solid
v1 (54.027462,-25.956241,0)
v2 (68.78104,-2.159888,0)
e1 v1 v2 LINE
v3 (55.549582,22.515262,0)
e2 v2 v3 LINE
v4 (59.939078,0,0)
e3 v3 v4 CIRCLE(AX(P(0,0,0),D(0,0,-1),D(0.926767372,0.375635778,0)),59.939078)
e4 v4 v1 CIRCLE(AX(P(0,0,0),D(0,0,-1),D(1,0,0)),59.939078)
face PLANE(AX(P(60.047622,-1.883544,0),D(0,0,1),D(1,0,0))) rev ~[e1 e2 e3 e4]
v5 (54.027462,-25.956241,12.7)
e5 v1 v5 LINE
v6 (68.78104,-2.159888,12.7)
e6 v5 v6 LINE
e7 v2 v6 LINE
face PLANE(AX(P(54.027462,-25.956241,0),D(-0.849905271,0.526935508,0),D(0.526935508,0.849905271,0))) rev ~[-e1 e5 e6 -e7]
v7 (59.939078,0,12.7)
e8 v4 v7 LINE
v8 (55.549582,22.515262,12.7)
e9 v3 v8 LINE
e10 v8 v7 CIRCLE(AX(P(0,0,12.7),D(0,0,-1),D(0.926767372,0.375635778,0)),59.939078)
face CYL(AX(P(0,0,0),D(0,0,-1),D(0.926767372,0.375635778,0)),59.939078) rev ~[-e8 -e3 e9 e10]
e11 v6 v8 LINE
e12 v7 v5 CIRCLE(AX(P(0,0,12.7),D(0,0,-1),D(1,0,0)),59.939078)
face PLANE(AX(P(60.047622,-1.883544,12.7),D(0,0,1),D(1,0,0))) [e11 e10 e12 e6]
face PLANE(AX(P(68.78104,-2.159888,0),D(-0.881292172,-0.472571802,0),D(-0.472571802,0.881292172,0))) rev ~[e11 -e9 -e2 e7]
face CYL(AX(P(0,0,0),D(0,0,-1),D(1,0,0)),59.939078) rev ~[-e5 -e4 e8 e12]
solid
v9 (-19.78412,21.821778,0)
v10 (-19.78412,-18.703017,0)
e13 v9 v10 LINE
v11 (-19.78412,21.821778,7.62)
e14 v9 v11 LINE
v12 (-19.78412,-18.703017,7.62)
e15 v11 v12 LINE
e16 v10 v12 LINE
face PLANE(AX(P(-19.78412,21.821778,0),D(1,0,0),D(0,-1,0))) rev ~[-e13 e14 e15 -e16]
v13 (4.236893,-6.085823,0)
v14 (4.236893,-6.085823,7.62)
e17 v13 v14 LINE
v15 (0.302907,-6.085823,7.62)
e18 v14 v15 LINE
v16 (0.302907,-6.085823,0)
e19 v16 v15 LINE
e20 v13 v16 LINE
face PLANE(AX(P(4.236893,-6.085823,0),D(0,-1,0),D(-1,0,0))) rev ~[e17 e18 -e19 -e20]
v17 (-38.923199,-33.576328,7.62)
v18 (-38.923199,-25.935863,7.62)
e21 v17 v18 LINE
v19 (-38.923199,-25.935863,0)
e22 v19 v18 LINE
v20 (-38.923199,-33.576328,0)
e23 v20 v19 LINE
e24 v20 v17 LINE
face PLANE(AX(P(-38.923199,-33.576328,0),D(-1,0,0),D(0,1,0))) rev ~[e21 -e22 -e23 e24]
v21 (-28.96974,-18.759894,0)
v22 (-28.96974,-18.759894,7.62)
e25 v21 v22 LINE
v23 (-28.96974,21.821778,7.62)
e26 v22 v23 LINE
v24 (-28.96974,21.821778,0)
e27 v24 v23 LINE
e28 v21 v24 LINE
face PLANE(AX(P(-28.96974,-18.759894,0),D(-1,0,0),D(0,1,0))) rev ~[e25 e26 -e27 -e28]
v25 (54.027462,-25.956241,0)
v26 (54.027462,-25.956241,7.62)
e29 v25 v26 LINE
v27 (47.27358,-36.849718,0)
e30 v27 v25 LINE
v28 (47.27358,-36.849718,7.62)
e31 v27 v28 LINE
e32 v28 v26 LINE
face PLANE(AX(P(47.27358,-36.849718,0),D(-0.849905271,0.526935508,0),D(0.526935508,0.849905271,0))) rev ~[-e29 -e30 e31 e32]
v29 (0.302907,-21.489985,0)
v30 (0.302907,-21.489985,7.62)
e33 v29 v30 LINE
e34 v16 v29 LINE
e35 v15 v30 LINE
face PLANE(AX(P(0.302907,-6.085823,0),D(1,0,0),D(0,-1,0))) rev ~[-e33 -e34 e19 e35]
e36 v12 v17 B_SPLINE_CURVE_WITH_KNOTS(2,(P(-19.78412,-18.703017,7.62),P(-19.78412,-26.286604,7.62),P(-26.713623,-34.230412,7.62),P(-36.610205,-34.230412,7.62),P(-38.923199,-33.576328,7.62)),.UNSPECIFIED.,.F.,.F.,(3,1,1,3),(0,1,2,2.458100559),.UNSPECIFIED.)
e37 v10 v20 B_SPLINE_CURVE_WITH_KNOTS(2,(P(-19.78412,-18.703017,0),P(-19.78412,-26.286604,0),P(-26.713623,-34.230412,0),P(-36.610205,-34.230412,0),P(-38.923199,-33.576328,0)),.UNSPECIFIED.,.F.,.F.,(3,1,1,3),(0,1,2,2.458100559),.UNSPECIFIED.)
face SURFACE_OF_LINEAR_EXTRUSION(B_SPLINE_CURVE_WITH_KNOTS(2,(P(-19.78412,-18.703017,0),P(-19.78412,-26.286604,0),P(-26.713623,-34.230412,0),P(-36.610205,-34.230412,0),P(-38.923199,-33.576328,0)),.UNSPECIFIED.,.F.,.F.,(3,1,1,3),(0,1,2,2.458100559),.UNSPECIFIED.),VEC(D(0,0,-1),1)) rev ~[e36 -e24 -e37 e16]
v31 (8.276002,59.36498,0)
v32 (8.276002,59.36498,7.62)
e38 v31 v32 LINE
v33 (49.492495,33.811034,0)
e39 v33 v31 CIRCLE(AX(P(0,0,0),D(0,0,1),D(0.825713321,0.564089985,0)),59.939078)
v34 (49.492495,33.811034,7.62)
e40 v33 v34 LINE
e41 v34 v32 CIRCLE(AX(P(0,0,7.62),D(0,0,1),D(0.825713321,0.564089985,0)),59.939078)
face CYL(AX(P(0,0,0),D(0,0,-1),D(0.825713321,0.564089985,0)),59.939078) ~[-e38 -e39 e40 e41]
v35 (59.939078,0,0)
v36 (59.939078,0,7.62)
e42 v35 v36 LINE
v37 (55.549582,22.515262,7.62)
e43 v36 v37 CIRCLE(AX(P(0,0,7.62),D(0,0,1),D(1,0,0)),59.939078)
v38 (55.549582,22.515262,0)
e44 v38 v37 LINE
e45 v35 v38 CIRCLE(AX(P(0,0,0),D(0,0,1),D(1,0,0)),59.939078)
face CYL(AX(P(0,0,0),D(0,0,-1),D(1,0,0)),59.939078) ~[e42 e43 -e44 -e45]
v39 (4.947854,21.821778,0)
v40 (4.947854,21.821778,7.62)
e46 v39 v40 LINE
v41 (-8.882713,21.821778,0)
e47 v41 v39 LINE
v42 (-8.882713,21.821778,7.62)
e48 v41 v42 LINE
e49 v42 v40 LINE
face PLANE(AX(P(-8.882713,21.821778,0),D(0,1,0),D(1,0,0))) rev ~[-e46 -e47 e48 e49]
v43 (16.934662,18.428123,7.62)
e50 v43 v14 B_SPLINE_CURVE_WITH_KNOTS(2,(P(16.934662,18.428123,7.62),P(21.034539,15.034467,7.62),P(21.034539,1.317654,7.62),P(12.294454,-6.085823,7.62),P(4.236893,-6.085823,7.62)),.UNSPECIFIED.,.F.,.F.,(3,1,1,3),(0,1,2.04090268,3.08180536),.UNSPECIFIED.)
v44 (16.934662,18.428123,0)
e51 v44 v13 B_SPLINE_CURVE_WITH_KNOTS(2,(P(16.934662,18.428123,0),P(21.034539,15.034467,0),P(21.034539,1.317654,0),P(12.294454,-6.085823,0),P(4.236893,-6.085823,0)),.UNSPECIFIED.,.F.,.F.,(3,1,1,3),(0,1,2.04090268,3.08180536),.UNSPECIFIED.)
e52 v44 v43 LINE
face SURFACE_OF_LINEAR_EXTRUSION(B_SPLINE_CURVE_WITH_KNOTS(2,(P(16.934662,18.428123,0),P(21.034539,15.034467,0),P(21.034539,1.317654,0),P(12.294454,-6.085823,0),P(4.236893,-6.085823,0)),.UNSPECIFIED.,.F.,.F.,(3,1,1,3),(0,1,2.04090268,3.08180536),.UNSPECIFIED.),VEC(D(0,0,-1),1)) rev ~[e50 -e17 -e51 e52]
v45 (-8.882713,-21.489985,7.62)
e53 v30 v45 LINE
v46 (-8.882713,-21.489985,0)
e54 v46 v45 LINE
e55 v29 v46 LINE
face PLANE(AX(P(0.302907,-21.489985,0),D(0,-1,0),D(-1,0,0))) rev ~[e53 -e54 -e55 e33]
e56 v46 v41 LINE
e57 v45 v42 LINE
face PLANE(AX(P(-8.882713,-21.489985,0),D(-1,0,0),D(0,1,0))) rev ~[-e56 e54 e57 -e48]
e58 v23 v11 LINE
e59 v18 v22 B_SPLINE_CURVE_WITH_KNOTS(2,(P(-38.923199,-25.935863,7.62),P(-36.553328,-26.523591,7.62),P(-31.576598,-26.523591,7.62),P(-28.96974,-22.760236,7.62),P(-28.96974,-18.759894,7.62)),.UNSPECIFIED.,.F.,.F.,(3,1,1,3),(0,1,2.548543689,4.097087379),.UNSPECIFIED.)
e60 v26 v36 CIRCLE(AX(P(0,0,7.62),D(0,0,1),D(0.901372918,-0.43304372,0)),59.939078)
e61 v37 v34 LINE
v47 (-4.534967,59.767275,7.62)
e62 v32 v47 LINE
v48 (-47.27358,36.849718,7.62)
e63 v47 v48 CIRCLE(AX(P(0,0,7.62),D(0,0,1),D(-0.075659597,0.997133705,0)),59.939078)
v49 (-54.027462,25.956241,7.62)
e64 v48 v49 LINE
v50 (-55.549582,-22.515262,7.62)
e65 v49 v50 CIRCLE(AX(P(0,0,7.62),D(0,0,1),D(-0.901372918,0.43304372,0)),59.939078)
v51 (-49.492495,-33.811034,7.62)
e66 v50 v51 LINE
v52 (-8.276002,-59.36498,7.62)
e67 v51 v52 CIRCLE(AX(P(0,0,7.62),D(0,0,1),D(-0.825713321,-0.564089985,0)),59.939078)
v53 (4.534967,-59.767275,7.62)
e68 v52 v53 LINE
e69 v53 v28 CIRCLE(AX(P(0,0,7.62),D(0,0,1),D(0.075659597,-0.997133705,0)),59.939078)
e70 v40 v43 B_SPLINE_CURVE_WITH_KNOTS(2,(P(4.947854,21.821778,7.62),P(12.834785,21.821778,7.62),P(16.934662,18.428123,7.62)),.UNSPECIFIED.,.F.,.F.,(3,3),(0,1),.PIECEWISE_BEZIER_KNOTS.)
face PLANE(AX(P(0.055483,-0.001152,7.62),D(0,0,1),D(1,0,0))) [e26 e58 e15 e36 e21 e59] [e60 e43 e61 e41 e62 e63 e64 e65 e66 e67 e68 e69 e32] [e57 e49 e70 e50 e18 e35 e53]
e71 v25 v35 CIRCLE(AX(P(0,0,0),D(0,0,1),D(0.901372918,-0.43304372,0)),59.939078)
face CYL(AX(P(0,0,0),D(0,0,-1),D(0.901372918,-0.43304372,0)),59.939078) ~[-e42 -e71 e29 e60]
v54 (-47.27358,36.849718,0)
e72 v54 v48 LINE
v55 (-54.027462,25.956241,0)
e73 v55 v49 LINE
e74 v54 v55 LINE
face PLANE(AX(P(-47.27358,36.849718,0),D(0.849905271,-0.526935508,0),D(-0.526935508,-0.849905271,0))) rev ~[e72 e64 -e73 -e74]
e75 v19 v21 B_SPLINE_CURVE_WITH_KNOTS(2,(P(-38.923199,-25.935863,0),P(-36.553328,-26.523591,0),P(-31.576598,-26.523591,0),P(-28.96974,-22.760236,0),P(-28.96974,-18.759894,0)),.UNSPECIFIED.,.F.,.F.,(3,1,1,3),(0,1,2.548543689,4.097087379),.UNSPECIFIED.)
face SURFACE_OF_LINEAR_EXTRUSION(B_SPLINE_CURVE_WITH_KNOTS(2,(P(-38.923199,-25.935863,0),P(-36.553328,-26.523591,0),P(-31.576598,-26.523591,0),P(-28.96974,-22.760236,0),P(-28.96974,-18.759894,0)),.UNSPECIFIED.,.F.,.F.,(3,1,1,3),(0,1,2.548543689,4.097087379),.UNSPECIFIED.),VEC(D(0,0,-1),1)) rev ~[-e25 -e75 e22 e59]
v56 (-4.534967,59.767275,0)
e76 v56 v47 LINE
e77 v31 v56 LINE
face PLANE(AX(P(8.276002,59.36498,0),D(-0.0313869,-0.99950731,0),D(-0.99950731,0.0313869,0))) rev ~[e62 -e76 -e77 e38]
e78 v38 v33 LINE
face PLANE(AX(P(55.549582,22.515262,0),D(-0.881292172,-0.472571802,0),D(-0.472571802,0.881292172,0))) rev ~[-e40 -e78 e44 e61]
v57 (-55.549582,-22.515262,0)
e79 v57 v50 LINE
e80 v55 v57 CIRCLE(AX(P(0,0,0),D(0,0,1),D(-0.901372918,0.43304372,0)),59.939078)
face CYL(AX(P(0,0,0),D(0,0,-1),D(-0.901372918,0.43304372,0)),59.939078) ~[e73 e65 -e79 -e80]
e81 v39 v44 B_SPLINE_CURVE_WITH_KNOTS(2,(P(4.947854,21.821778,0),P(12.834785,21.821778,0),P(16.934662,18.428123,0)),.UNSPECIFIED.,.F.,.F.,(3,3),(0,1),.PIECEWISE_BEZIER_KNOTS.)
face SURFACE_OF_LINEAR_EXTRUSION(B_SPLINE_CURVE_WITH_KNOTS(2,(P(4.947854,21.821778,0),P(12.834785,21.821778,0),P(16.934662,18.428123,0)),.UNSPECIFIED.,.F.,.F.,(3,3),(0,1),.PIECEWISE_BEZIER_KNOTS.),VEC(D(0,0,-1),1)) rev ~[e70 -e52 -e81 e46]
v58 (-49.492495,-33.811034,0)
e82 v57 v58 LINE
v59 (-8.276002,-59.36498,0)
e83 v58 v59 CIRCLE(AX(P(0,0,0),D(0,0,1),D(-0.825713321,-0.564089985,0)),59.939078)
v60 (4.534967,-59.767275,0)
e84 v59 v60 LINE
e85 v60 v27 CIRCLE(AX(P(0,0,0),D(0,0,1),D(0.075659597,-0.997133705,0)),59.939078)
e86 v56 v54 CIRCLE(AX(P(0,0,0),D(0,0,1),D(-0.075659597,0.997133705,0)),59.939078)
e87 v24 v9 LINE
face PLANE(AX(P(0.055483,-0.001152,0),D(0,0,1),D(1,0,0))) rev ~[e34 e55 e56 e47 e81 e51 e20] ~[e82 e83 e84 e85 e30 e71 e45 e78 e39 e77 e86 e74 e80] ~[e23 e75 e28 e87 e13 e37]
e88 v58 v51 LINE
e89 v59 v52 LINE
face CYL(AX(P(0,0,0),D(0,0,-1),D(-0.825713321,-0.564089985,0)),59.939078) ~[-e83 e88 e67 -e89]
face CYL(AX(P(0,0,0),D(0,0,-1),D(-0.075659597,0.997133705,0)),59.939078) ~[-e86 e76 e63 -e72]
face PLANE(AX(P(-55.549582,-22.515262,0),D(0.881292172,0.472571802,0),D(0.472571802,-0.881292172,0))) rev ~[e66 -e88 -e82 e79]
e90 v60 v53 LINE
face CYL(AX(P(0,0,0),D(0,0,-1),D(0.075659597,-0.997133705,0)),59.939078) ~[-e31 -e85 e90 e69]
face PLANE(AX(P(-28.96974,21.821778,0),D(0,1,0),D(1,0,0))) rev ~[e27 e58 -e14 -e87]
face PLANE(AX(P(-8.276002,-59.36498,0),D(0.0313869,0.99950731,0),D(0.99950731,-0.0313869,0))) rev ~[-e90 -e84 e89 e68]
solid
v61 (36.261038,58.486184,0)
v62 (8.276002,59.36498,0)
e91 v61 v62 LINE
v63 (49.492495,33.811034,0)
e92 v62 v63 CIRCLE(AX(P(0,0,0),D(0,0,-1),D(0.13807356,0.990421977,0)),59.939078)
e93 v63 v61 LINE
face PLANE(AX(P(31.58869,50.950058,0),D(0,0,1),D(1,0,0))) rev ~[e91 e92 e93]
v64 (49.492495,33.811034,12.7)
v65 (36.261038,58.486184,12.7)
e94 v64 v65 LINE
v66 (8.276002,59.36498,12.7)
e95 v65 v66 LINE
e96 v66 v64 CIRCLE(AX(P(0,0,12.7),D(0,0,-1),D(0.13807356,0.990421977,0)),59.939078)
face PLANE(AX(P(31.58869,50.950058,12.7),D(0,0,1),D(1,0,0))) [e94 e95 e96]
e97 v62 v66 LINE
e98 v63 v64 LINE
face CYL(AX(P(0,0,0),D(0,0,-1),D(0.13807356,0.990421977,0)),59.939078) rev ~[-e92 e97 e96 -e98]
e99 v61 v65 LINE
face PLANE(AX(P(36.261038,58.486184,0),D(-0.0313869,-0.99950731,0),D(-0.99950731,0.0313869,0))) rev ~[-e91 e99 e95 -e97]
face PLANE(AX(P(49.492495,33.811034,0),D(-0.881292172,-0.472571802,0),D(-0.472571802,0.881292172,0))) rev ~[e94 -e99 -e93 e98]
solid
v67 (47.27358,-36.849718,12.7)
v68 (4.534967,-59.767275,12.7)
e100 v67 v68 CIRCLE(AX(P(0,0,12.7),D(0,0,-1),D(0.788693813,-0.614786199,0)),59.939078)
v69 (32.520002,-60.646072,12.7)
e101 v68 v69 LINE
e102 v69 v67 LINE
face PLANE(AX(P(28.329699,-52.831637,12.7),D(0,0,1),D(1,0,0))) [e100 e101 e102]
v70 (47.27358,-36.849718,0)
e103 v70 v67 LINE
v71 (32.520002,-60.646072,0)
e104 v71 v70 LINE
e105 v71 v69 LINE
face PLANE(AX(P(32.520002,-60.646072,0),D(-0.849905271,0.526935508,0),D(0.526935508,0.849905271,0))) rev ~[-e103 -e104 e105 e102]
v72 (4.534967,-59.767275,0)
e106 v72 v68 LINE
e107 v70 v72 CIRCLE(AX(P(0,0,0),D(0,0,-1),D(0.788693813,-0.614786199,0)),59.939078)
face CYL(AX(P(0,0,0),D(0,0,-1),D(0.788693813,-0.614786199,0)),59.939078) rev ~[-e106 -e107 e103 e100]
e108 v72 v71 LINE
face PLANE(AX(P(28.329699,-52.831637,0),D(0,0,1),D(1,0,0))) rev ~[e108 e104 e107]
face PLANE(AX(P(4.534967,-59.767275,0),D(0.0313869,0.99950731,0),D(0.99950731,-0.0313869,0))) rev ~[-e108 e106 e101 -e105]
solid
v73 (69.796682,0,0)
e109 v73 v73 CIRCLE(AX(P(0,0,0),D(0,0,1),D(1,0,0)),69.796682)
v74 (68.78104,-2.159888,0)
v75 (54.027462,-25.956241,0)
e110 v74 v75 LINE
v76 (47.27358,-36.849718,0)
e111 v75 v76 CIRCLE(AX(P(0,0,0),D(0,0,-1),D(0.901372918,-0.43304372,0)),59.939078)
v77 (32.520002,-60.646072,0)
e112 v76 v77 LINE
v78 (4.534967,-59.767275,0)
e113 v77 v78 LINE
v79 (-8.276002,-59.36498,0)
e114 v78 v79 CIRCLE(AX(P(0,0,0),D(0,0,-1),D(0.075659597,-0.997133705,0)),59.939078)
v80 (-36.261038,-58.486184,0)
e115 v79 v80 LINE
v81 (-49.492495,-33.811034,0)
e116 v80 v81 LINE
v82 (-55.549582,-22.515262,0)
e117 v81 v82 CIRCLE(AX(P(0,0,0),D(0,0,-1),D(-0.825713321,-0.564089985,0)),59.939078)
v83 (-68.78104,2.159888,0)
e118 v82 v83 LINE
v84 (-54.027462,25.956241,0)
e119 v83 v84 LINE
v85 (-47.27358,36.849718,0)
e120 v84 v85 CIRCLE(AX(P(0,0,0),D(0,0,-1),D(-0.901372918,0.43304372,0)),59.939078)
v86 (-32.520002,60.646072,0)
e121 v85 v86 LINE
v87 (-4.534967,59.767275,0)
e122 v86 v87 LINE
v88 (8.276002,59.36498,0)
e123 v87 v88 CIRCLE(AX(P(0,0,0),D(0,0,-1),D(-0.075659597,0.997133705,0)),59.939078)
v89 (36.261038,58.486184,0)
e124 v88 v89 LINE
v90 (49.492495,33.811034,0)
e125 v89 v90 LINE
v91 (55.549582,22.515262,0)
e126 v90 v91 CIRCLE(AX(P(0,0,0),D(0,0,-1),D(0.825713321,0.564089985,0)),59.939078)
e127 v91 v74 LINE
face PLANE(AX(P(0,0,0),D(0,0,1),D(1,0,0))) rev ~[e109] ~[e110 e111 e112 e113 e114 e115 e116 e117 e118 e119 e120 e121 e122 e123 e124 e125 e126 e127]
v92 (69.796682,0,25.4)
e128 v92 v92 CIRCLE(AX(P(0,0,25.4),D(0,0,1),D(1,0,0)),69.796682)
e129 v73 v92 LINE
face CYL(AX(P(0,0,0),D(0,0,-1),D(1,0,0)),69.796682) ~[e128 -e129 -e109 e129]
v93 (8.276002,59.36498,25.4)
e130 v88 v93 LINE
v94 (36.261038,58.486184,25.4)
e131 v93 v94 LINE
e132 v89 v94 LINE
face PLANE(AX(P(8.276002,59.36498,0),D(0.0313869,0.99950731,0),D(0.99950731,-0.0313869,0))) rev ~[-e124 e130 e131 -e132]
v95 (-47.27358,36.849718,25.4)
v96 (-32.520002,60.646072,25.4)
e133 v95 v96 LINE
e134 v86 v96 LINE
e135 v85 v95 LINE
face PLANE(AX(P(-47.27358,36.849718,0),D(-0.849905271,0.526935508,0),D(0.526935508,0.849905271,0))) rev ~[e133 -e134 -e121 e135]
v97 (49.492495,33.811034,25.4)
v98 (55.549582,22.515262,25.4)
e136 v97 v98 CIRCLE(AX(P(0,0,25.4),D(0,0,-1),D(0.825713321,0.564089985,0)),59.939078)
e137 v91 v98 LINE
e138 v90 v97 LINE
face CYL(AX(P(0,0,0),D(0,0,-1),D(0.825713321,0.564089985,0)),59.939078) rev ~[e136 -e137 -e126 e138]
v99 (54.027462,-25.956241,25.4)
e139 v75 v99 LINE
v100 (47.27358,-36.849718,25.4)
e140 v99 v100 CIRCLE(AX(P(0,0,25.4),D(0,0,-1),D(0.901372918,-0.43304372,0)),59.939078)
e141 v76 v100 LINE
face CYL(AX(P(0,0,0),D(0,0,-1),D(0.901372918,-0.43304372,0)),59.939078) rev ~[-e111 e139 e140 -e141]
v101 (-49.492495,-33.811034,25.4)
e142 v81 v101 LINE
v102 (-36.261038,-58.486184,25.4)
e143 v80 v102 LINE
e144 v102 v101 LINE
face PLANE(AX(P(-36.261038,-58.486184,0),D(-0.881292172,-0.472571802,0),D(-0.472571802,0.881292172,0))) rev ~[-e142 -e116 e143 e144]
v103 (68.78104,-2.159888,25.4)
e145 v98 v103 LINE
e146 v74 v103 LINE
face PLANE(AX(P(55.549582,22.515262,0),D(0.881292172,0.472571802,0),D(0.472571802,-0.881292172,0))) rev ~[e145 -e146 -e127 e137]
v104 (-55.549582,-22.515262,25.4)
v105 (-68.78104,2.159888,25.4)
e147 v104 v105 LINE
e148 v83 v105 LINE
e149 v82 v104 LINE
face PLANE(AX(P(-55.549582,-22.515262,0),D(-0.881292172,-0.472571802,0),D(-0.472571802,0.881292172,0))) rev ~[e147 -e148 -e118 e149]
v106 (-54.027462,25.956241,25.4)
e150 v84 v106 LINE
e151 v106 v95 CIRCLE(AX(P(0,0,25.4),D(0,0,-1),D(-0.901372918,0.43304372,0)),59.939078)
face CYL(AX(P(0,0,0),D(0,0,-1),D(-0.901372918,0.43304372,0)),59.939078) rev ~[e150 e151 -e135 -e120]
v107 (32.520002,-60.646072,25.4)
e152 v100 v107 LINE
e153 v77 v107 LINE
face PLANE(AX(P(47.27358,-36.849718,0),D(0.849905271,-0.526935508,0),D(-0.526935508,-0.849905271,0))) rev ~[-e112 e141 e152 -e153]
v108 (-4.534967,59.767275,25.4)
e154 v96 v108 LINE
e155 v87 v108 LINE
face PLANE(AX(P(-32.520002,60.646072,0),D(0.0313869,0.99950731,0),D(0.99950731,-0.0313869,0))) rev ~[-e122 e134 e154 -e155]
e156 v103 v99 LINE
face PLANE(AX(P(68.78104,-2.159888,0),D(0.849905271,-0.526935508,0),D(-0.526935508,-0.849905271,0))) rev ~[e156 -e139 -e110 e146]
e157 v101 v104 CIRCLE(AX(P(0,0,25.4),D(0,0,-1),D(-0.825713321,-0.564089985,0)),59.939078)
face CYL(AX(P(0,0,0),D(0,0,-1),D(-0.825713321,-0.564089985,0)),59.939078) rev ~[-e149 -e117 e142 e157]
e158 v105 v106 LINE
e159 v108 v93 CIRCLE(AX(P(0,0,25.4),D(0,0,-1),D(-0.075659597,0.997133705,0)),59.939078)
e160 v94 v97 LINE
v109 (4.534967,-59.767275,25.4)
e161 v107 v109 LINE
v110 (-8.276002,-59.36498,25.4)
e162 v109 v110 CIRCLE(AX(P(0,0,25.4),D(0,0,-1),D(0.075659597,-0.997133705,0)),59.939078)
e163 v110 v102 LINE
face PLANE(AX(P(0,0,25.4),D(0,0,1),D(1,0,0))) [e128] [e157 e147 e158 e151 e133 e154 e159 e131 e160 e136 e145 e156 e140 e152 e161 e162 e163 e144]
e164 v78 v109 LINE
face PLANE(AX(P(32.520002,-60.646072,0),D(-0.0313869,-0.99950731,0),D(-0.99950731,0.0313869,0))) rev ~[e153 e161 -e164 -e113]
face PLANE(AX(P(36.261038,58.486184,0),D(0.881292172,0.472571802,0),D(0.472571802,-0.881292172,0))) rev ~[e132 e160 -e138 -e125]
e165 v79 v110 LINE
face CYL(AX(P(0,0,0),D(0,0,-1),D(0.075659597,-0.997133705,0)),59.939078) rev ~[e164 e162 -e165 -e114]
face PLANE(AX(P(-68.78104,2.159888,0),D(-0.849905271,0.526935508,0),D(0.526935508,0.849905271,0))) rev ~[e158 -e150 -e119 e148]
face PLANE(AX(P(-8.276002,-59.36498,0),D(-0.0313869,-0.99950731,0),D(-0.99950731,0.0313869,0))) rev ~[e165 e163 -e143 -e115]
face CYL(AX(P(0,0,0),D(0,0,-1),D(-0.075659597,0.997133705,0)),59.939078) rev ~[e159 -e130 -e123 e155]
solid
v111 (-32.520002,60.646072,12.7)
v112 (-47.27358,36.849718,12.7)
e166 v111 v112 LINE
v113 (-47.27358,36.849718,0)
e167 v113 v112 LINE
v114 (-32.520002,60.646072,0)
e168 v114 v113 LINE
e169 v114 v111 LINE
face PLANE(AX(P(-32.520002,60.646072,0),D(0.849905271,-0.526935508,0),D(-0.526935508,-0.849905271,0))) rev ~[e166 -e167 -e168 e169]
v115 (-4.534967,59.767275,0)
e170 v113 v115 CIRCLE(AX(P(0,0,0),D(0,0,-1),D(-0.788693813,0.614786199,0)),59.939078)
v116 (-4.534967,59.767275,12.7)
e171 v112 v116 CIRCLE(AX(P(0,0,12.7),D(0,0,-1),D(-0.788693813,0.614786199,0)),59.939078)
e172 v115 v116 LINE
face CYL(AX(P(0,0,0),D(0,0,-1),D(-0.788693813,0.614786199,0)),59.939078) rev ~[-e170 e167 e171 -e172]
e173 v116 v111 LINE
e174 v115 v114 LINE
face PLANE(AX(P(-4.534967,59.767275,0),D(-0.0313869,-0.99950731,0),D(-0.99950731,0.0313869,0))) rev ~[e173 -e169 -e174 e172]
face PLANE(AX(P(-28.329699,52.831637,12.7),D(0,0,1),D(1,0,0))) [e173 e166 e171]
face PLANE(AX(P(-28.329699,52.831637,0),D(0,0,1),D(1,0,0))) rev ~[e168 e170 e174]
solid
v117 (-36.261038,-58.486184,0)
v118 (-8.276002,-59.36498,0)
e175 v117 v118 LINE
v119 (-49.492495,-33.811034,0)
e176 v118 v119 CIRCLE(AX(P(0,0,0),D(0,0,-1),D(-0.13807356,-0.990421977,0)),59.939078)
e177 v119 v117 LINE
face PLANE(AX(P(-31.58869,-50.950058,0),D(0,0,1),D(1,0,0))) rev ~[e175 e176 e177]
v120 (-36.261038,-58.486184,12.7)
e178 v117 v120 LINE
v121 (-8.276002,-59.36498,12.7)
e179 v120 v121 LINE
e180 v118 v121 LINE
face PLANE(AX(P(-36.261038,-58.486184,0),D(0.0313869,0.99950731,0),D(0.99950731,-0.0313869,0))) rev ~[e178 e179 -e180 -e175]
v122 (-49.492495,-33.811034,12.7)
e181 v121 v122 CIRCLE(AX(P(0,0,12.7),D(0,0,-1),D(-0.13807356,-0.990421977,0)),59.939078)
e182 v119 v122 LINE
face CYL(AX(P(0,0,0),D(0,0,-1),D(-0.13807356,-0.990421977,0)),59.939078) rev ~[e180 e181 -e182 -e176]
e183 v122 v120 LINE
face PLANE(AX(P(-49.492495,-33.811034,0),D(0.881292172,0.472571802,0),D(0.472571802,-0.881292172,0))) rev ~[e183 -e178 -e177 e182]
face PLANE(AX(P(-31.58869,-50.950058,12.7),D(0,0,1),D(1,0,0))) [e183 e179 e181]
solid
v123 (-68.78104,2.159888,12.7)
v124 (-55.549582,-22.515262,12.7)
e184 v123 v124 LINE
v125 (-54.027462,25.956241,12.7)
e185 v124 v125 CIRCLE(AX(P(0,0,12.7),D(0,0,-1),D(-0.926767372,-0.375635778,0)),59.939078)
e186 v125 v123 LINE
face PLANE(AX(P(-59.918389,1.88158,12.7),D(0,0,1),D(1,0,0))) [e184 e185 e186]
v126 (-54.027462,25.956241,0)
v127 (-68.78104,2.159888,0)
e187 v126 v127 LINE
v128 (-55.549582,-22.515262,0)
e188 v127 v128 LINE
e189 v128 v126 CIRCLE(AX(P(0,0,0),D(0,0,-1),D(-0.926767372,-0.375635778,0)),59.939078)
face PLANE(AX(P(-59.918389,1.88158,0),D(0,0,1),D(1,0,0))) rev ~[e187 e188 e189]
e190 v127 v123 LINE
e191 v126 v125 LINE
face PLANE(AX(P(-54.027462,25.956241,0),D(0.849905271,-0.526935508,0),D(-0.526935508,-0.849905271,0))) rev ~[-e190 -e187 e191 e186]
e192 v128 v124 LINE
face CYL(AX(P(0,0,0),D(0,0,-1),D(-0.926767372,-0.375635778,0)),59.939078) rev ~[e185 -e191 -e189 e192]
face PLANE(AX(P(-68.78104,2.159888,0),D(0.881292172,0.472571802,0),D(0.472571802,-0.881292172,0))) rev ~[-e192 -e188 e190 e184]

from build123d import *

# Parameters (mm, degrees)
F0_R     = 69.796681711
F1_DEPTH = 25.4
F2_DEPTH = 12.7
F3_DEPTH = 7.62


with BuildPart() as f1:
    # F0 (on Top) → F1 (new body)
    with BuildSketch(Plane.XY):
        Circle(F0_R)
        with BuildLine():
            Line((8.2760019114, 59.3649804818), (36.2610376693, 58.4861839798))
            Line((36.2610376693, 58.4861839798), (49.4924954528, 33.8110338366))
            ThreePointArc((49.4924954528, 33.8110338366), (52.8238405465, 28.3255182682), (55.5495821482, 22.5152623438))
            Line((55.5495821482, 22.5152623438), (68.7810399316, -2.1598877993))
            Line((68.7810399316, -2.1598877993), (54.0274619571, -25.9562414405))
            ThreePointArc((54.0274619571, -25.9562414405), (50.9425386689, -31.5840287047), (47.2735802367, -36.849718138))
            Line((47.2735802367, -36.849718138), (32.5200022623, -60.6460717791))
            Line((32.5200022623, -60.6460717791), (4.5349665043, -59.7672752771))
            ThreePointArc((4.5349665043, -59.7672752771), (-1.8813018777, -59.9095469729), (-8.2760019114, -59.3649804818))
            Line((-8.2760019114, -59.3649804818), (-36.2610376693, -58.4861839798))
            Line((-36.2610376693, -58.4861839798), (-49.4924954528, -33.8110338366))
            ThreePointArc((-49.4924954528, -33.8110338366), (-52.8238405465, -28.3255182682), (-55.5495821482, -22.5152623438))
            Line((-55.5495821482, -22.5152623438), (-68.7810399316, 2.1598877993))
            Line((-68.7810399316, 2.1598877993), (-54.0274619571, 25.9562414405))
            ThreePointArc((-54.0274619571, 25.9562414405), (-50.9425386689, 31.5840287047), (-47.2735802367, 36.849718138))
            Line((-47.2735802367, 36.849718138), (-32.5200022623, 60.6460717791))
            Line((-32.5200022623, 60.6460717791), (-4.5349665043, 59.7672752771))
            ThreePointArc((-4.5349665043, 59.7672752771), (1.8813018777, 59.9095469729), (8.2760019114, 59.3649804818))
        make_face(mode=Mode.SUBTRACT)
    extrude(amount=F1_DEPTH)


with BuildPart() as f2:
    # F0 (on Top) → F2 (new body)
    with BuildSketch(Plane.XY):
        with BuildLine():
            ThreePointArc((-55.5495821482, -22.5152623438), (-59.9095469729, 1.8813018777), (-54.0274619571, 25.9562414405))
            Line((-54.0274619571, 25.9562414405), (-68.7810399316, 2.1598877993))
            Line((-68.7810399316, 2.1598877993), (-55.5495821482, -22.5152623438))
        make_face()
    extrude(amount=F2_DEPTH)


with BuildPart() as f2b:
    # F0 (on Top) → F2, piece 2 (new body)
    with BuildSketch(Plane.XY):
        with BuildLine():
            ThreePointArc((-8.2760019114, -59.3649804818), (-31.5840287047, -50.9425386689), (-49.4924954528, -33.8110338366))
            Line((-49.4924954528, -33.8110338366), (-36.2610376693, -58.4861839798))
            Line((-36.2610376693, -58.4861839798), (-8.2760019114, -59.3649804818))
        make_face()
    extrude(amount=F2_DEPTH)


with BuildPart() as f2c:
    # F0 (on Top) → F2, piece 3 (new body)
    with BuildSketch(Plane.XY):
        with BuildLine():
            ThreePointArc((-47.2735802367, 36.849718138), (-28.3255182682, 52.8238405465), (-4.5349665043, 59.7672752771))
            Line((-4.5349665043, 59.7672752771), (-32.5200022623, 60.6460717791))
            Line((-32.5200022623, 60.6460717791), (-47.2735802367, 36.849718138))
        make_face()
    extrude(amount=F2_DEPTH)


with BuildPart() as f2d:
    # F0 (on Top) → F2, piece 4 (new body)
    with BuildSketch(Plane.XY):
        with BuildLine():
            Line((49.4924954528, 33.8110338366), (36.2610376693, 58.4861839798))
            Line((36.2610376693, 58.4861839798), (8.2760019114, 59.3649804818))
            ThreePointArc((8.2760019114, 59.3649804818), (31.5840287047, 50.9425386689), (49.4924954528, 33.8110338366))
        make_face()
    extrude(amount=F2_DEPTH)


with BuildPart() as f2e:
    # F0 (on Top) → F2, piece 5 (new body)
    with BuildSketch(Plane.XY):
        with BuildLine():
            Line((68.7810399316, -2.1598877993), (55.5495821482, 22.5152623438))
            ThreePointArc((55.5495821482, 22.5152623438), (58.8314706291, 11.4695762285), (59.939078365, 0))
            ThreePointArc((59.939078365, 0), (58.4424904986, -13.3104627856), (54.0274619571, -25.9562414405))
            Line((54.0274619571, -25.9562414405), (68.7810399316, -2.1598877993))
        make_face()
    extrude(amount=F2_DEPTH)


with BuildPart() as f2f:
    # F0 (on Top) → F2, piece 6 (new body)
    with BuildSketch(Plane.XY):
        with BuildLine():
            Line((32.5200022623, -60.6460717791), (47.2735802367, -36.849718138))
            ThreePointArc((47.2735802367, -36.849718138), (28.3255182682, -52.8238405465), (4.5349665043, -59.7672752771))
            Line((4.5349665043, -59.7672752771), (32.5200022623, -60.6460717791))
        make_face()
    extrude(amount=F2_DEPTH)


with BuildPart() as f3:
    # F0 (on Top) → F3 (new body)
    with BuildSketch(Plane.XY):
        with BuildLine():
            Line((55.5495821482, 22.5152623438), (49.4924954528, 33.8110338366))
            ThreePointArc((49.4924954528, 33.8110338366), (31.5840287047, 50.9425386689), (8.2760019114, 59.3649804818))
            Line((8.2760019114, 59.3649804818), (-4.5349665043, 59.7672752771))
            ThreePointArc((-4.5349665043, 59.7672752771), (-28.3255182682, 52.8238405465), (-47.2735802367, 36.849718138))
            Line((-47.2735802367, 36.849718138), (-54.0274619571, 25.9562414405))
            ThreePointArc((-54.0274619571, 25.9562414405), (-59.9095469729, 1.8813018777), (-55.5495821482, -22.5152623438))
            Line((-55.5495821482, -22.5152623438), (-49.4924954528, -33.8110338366))
            ThreePointArc((-49.4924954528, -33.8110338366), (-31.5840287047, -50.9425386689), (-8.2760019114, -59.3649804818))
            Line((-8.2760019114, -59.3649804818), (4.5349665043, -59.7672752771))
            ThreePointArc((4.5349665043, -59.7672752771), (28.3255182682, -52.8238405465), (47.2735802367, -36.849718138))
            Line((47.2735802367, -36.849718138), (54.0274619571, -25.9562414405))
            ThreePointArc((54.0274619571, -25.9562414405), (58.4424904986, -13.3104627856), (59.939078365, 0))
            ThreePointArc((59.939078365, 0), (58.8314706291, 11.4695762285), (55.5495821482, 22.5152623438))
        make_face()
        with BuildLine():
            add(Edge.make_bspline(
                [(-23.2488715606, -30.2585081788), (-26.7136230383, -34.2304120616), (-33.5009337307, -34.2304120616)],
                knots=[0, 0, 0, 1, 1, 1], degree=2))
            add(Edge.make_bspline(
                [(-33.5009337307, -34.2304120616), (-36.6102045506, -34.2304120616), (-38.9231986972, -33.5763276513)],
                knots=[0, 0, 0, 1, 1, 1], degree=2))
            Line((-38.9231986972, -33.5763276513), (-38.9231986972, -25.9358633804))
            add(Edge.make_bspline(
                [(-38.9231986972, -25.9358633804), (-36.5533276454, -26.5235914012), (-34.6005538987, -26.5235914012)],
                knots=[0, 0, 0, 1, 1, 1], degree=2))
            add(Edge.make_bspline(
                [(-34.6005538987, -26.5235914012), (-31.5765984366, -26.5235914012), (-30.2731693581, -24.6419137861)],
                knots=[0, 0, 0, 1, 1, 1], degree=2))
            add(Edge.make_bspline(
                [(-30.2731693581, -24.6419137861), (-28.9697402796, -22.760236171), (-28.9697402796, -18.7598938355)],
                knots=[0, 0, 0, 1, 1, 1], degree=2))
            Line((-28.9697402796, -18.7598938355), (-28.9697402796, 21.8217780554))
            Line((-28.9697402796, 21.8217780554), (-19.7841200829, 21.8217780554))
            Line((-19.7841200829, 21.8217780554), (-19.7841200829, -18.7030169303))
            add(Edge.make_bspline(
                [(-19.7841200829, -18.7030169303), (-19.7841200829, -26.286604296), (-23.2488715606, -30.2585081788)],
                knots=[0, 0, 0, 1, 1, 1], degree=2))
        make_face(mode=Mode.SUBTRACT)
        with BuildLine():
            add(Edge.make_bspline(
                [(16.9346619936, 18.4281227092), (21.0345389132, 15.0344673631), (21.0345389132, 8.3135130602)],
                knots=[0, 0, 0, 1, 1, 1], degree=2))
            add(Edge.make_bspline(
                [(21.0345389132, 8.3135130602), (21.0345389132, 1.3176537153), (16.6644966937, -2.3840848676)],
                knots=[0, 0, 0, 1, 1, 1], degree=2))
            add(Edge.make_bspline(
                [(16.6644966937, -2.3840848676), (12.2944544742, -6.0858234505), (4.2368928981, -6.0858234505)],
                knots=[0, 0, 0, 1, 1, 1], degree=2))
            Line((4.2368928981, -6.0858234505), (0.3029069521, -6.0858234505))
            Line((0.3029069521, -6.0858234505), (0.3029069521, -21.4899852872))
            Line((0.3029069521, -21.4899852872), (-8.8827132446, -21.4899852872))
            Line((-8.8827132446, -21.4899852872), (-8.8827132446, 21.8217780554))
            Line((-8.8827132446, 21.8217780554), (4.9478542136, 21.8217780554))
            add(Edge.make_bspline(
                [(4.9478542136, 21.8217780554), (12.834785074, 21.8217780554), (16.9346619936, 18.4281227092)],
                knots=[0, 0, 0, 1, 1, 1], degree=2))
        make_face(mode=Mode.SUBTRACT)
    extrude(amount=F3_DEPTH)


solid = Compound([f1.part, f2.part, f2b.part, f2c.part, f2d.part, f2e.part, f2f.part, f3.part])
